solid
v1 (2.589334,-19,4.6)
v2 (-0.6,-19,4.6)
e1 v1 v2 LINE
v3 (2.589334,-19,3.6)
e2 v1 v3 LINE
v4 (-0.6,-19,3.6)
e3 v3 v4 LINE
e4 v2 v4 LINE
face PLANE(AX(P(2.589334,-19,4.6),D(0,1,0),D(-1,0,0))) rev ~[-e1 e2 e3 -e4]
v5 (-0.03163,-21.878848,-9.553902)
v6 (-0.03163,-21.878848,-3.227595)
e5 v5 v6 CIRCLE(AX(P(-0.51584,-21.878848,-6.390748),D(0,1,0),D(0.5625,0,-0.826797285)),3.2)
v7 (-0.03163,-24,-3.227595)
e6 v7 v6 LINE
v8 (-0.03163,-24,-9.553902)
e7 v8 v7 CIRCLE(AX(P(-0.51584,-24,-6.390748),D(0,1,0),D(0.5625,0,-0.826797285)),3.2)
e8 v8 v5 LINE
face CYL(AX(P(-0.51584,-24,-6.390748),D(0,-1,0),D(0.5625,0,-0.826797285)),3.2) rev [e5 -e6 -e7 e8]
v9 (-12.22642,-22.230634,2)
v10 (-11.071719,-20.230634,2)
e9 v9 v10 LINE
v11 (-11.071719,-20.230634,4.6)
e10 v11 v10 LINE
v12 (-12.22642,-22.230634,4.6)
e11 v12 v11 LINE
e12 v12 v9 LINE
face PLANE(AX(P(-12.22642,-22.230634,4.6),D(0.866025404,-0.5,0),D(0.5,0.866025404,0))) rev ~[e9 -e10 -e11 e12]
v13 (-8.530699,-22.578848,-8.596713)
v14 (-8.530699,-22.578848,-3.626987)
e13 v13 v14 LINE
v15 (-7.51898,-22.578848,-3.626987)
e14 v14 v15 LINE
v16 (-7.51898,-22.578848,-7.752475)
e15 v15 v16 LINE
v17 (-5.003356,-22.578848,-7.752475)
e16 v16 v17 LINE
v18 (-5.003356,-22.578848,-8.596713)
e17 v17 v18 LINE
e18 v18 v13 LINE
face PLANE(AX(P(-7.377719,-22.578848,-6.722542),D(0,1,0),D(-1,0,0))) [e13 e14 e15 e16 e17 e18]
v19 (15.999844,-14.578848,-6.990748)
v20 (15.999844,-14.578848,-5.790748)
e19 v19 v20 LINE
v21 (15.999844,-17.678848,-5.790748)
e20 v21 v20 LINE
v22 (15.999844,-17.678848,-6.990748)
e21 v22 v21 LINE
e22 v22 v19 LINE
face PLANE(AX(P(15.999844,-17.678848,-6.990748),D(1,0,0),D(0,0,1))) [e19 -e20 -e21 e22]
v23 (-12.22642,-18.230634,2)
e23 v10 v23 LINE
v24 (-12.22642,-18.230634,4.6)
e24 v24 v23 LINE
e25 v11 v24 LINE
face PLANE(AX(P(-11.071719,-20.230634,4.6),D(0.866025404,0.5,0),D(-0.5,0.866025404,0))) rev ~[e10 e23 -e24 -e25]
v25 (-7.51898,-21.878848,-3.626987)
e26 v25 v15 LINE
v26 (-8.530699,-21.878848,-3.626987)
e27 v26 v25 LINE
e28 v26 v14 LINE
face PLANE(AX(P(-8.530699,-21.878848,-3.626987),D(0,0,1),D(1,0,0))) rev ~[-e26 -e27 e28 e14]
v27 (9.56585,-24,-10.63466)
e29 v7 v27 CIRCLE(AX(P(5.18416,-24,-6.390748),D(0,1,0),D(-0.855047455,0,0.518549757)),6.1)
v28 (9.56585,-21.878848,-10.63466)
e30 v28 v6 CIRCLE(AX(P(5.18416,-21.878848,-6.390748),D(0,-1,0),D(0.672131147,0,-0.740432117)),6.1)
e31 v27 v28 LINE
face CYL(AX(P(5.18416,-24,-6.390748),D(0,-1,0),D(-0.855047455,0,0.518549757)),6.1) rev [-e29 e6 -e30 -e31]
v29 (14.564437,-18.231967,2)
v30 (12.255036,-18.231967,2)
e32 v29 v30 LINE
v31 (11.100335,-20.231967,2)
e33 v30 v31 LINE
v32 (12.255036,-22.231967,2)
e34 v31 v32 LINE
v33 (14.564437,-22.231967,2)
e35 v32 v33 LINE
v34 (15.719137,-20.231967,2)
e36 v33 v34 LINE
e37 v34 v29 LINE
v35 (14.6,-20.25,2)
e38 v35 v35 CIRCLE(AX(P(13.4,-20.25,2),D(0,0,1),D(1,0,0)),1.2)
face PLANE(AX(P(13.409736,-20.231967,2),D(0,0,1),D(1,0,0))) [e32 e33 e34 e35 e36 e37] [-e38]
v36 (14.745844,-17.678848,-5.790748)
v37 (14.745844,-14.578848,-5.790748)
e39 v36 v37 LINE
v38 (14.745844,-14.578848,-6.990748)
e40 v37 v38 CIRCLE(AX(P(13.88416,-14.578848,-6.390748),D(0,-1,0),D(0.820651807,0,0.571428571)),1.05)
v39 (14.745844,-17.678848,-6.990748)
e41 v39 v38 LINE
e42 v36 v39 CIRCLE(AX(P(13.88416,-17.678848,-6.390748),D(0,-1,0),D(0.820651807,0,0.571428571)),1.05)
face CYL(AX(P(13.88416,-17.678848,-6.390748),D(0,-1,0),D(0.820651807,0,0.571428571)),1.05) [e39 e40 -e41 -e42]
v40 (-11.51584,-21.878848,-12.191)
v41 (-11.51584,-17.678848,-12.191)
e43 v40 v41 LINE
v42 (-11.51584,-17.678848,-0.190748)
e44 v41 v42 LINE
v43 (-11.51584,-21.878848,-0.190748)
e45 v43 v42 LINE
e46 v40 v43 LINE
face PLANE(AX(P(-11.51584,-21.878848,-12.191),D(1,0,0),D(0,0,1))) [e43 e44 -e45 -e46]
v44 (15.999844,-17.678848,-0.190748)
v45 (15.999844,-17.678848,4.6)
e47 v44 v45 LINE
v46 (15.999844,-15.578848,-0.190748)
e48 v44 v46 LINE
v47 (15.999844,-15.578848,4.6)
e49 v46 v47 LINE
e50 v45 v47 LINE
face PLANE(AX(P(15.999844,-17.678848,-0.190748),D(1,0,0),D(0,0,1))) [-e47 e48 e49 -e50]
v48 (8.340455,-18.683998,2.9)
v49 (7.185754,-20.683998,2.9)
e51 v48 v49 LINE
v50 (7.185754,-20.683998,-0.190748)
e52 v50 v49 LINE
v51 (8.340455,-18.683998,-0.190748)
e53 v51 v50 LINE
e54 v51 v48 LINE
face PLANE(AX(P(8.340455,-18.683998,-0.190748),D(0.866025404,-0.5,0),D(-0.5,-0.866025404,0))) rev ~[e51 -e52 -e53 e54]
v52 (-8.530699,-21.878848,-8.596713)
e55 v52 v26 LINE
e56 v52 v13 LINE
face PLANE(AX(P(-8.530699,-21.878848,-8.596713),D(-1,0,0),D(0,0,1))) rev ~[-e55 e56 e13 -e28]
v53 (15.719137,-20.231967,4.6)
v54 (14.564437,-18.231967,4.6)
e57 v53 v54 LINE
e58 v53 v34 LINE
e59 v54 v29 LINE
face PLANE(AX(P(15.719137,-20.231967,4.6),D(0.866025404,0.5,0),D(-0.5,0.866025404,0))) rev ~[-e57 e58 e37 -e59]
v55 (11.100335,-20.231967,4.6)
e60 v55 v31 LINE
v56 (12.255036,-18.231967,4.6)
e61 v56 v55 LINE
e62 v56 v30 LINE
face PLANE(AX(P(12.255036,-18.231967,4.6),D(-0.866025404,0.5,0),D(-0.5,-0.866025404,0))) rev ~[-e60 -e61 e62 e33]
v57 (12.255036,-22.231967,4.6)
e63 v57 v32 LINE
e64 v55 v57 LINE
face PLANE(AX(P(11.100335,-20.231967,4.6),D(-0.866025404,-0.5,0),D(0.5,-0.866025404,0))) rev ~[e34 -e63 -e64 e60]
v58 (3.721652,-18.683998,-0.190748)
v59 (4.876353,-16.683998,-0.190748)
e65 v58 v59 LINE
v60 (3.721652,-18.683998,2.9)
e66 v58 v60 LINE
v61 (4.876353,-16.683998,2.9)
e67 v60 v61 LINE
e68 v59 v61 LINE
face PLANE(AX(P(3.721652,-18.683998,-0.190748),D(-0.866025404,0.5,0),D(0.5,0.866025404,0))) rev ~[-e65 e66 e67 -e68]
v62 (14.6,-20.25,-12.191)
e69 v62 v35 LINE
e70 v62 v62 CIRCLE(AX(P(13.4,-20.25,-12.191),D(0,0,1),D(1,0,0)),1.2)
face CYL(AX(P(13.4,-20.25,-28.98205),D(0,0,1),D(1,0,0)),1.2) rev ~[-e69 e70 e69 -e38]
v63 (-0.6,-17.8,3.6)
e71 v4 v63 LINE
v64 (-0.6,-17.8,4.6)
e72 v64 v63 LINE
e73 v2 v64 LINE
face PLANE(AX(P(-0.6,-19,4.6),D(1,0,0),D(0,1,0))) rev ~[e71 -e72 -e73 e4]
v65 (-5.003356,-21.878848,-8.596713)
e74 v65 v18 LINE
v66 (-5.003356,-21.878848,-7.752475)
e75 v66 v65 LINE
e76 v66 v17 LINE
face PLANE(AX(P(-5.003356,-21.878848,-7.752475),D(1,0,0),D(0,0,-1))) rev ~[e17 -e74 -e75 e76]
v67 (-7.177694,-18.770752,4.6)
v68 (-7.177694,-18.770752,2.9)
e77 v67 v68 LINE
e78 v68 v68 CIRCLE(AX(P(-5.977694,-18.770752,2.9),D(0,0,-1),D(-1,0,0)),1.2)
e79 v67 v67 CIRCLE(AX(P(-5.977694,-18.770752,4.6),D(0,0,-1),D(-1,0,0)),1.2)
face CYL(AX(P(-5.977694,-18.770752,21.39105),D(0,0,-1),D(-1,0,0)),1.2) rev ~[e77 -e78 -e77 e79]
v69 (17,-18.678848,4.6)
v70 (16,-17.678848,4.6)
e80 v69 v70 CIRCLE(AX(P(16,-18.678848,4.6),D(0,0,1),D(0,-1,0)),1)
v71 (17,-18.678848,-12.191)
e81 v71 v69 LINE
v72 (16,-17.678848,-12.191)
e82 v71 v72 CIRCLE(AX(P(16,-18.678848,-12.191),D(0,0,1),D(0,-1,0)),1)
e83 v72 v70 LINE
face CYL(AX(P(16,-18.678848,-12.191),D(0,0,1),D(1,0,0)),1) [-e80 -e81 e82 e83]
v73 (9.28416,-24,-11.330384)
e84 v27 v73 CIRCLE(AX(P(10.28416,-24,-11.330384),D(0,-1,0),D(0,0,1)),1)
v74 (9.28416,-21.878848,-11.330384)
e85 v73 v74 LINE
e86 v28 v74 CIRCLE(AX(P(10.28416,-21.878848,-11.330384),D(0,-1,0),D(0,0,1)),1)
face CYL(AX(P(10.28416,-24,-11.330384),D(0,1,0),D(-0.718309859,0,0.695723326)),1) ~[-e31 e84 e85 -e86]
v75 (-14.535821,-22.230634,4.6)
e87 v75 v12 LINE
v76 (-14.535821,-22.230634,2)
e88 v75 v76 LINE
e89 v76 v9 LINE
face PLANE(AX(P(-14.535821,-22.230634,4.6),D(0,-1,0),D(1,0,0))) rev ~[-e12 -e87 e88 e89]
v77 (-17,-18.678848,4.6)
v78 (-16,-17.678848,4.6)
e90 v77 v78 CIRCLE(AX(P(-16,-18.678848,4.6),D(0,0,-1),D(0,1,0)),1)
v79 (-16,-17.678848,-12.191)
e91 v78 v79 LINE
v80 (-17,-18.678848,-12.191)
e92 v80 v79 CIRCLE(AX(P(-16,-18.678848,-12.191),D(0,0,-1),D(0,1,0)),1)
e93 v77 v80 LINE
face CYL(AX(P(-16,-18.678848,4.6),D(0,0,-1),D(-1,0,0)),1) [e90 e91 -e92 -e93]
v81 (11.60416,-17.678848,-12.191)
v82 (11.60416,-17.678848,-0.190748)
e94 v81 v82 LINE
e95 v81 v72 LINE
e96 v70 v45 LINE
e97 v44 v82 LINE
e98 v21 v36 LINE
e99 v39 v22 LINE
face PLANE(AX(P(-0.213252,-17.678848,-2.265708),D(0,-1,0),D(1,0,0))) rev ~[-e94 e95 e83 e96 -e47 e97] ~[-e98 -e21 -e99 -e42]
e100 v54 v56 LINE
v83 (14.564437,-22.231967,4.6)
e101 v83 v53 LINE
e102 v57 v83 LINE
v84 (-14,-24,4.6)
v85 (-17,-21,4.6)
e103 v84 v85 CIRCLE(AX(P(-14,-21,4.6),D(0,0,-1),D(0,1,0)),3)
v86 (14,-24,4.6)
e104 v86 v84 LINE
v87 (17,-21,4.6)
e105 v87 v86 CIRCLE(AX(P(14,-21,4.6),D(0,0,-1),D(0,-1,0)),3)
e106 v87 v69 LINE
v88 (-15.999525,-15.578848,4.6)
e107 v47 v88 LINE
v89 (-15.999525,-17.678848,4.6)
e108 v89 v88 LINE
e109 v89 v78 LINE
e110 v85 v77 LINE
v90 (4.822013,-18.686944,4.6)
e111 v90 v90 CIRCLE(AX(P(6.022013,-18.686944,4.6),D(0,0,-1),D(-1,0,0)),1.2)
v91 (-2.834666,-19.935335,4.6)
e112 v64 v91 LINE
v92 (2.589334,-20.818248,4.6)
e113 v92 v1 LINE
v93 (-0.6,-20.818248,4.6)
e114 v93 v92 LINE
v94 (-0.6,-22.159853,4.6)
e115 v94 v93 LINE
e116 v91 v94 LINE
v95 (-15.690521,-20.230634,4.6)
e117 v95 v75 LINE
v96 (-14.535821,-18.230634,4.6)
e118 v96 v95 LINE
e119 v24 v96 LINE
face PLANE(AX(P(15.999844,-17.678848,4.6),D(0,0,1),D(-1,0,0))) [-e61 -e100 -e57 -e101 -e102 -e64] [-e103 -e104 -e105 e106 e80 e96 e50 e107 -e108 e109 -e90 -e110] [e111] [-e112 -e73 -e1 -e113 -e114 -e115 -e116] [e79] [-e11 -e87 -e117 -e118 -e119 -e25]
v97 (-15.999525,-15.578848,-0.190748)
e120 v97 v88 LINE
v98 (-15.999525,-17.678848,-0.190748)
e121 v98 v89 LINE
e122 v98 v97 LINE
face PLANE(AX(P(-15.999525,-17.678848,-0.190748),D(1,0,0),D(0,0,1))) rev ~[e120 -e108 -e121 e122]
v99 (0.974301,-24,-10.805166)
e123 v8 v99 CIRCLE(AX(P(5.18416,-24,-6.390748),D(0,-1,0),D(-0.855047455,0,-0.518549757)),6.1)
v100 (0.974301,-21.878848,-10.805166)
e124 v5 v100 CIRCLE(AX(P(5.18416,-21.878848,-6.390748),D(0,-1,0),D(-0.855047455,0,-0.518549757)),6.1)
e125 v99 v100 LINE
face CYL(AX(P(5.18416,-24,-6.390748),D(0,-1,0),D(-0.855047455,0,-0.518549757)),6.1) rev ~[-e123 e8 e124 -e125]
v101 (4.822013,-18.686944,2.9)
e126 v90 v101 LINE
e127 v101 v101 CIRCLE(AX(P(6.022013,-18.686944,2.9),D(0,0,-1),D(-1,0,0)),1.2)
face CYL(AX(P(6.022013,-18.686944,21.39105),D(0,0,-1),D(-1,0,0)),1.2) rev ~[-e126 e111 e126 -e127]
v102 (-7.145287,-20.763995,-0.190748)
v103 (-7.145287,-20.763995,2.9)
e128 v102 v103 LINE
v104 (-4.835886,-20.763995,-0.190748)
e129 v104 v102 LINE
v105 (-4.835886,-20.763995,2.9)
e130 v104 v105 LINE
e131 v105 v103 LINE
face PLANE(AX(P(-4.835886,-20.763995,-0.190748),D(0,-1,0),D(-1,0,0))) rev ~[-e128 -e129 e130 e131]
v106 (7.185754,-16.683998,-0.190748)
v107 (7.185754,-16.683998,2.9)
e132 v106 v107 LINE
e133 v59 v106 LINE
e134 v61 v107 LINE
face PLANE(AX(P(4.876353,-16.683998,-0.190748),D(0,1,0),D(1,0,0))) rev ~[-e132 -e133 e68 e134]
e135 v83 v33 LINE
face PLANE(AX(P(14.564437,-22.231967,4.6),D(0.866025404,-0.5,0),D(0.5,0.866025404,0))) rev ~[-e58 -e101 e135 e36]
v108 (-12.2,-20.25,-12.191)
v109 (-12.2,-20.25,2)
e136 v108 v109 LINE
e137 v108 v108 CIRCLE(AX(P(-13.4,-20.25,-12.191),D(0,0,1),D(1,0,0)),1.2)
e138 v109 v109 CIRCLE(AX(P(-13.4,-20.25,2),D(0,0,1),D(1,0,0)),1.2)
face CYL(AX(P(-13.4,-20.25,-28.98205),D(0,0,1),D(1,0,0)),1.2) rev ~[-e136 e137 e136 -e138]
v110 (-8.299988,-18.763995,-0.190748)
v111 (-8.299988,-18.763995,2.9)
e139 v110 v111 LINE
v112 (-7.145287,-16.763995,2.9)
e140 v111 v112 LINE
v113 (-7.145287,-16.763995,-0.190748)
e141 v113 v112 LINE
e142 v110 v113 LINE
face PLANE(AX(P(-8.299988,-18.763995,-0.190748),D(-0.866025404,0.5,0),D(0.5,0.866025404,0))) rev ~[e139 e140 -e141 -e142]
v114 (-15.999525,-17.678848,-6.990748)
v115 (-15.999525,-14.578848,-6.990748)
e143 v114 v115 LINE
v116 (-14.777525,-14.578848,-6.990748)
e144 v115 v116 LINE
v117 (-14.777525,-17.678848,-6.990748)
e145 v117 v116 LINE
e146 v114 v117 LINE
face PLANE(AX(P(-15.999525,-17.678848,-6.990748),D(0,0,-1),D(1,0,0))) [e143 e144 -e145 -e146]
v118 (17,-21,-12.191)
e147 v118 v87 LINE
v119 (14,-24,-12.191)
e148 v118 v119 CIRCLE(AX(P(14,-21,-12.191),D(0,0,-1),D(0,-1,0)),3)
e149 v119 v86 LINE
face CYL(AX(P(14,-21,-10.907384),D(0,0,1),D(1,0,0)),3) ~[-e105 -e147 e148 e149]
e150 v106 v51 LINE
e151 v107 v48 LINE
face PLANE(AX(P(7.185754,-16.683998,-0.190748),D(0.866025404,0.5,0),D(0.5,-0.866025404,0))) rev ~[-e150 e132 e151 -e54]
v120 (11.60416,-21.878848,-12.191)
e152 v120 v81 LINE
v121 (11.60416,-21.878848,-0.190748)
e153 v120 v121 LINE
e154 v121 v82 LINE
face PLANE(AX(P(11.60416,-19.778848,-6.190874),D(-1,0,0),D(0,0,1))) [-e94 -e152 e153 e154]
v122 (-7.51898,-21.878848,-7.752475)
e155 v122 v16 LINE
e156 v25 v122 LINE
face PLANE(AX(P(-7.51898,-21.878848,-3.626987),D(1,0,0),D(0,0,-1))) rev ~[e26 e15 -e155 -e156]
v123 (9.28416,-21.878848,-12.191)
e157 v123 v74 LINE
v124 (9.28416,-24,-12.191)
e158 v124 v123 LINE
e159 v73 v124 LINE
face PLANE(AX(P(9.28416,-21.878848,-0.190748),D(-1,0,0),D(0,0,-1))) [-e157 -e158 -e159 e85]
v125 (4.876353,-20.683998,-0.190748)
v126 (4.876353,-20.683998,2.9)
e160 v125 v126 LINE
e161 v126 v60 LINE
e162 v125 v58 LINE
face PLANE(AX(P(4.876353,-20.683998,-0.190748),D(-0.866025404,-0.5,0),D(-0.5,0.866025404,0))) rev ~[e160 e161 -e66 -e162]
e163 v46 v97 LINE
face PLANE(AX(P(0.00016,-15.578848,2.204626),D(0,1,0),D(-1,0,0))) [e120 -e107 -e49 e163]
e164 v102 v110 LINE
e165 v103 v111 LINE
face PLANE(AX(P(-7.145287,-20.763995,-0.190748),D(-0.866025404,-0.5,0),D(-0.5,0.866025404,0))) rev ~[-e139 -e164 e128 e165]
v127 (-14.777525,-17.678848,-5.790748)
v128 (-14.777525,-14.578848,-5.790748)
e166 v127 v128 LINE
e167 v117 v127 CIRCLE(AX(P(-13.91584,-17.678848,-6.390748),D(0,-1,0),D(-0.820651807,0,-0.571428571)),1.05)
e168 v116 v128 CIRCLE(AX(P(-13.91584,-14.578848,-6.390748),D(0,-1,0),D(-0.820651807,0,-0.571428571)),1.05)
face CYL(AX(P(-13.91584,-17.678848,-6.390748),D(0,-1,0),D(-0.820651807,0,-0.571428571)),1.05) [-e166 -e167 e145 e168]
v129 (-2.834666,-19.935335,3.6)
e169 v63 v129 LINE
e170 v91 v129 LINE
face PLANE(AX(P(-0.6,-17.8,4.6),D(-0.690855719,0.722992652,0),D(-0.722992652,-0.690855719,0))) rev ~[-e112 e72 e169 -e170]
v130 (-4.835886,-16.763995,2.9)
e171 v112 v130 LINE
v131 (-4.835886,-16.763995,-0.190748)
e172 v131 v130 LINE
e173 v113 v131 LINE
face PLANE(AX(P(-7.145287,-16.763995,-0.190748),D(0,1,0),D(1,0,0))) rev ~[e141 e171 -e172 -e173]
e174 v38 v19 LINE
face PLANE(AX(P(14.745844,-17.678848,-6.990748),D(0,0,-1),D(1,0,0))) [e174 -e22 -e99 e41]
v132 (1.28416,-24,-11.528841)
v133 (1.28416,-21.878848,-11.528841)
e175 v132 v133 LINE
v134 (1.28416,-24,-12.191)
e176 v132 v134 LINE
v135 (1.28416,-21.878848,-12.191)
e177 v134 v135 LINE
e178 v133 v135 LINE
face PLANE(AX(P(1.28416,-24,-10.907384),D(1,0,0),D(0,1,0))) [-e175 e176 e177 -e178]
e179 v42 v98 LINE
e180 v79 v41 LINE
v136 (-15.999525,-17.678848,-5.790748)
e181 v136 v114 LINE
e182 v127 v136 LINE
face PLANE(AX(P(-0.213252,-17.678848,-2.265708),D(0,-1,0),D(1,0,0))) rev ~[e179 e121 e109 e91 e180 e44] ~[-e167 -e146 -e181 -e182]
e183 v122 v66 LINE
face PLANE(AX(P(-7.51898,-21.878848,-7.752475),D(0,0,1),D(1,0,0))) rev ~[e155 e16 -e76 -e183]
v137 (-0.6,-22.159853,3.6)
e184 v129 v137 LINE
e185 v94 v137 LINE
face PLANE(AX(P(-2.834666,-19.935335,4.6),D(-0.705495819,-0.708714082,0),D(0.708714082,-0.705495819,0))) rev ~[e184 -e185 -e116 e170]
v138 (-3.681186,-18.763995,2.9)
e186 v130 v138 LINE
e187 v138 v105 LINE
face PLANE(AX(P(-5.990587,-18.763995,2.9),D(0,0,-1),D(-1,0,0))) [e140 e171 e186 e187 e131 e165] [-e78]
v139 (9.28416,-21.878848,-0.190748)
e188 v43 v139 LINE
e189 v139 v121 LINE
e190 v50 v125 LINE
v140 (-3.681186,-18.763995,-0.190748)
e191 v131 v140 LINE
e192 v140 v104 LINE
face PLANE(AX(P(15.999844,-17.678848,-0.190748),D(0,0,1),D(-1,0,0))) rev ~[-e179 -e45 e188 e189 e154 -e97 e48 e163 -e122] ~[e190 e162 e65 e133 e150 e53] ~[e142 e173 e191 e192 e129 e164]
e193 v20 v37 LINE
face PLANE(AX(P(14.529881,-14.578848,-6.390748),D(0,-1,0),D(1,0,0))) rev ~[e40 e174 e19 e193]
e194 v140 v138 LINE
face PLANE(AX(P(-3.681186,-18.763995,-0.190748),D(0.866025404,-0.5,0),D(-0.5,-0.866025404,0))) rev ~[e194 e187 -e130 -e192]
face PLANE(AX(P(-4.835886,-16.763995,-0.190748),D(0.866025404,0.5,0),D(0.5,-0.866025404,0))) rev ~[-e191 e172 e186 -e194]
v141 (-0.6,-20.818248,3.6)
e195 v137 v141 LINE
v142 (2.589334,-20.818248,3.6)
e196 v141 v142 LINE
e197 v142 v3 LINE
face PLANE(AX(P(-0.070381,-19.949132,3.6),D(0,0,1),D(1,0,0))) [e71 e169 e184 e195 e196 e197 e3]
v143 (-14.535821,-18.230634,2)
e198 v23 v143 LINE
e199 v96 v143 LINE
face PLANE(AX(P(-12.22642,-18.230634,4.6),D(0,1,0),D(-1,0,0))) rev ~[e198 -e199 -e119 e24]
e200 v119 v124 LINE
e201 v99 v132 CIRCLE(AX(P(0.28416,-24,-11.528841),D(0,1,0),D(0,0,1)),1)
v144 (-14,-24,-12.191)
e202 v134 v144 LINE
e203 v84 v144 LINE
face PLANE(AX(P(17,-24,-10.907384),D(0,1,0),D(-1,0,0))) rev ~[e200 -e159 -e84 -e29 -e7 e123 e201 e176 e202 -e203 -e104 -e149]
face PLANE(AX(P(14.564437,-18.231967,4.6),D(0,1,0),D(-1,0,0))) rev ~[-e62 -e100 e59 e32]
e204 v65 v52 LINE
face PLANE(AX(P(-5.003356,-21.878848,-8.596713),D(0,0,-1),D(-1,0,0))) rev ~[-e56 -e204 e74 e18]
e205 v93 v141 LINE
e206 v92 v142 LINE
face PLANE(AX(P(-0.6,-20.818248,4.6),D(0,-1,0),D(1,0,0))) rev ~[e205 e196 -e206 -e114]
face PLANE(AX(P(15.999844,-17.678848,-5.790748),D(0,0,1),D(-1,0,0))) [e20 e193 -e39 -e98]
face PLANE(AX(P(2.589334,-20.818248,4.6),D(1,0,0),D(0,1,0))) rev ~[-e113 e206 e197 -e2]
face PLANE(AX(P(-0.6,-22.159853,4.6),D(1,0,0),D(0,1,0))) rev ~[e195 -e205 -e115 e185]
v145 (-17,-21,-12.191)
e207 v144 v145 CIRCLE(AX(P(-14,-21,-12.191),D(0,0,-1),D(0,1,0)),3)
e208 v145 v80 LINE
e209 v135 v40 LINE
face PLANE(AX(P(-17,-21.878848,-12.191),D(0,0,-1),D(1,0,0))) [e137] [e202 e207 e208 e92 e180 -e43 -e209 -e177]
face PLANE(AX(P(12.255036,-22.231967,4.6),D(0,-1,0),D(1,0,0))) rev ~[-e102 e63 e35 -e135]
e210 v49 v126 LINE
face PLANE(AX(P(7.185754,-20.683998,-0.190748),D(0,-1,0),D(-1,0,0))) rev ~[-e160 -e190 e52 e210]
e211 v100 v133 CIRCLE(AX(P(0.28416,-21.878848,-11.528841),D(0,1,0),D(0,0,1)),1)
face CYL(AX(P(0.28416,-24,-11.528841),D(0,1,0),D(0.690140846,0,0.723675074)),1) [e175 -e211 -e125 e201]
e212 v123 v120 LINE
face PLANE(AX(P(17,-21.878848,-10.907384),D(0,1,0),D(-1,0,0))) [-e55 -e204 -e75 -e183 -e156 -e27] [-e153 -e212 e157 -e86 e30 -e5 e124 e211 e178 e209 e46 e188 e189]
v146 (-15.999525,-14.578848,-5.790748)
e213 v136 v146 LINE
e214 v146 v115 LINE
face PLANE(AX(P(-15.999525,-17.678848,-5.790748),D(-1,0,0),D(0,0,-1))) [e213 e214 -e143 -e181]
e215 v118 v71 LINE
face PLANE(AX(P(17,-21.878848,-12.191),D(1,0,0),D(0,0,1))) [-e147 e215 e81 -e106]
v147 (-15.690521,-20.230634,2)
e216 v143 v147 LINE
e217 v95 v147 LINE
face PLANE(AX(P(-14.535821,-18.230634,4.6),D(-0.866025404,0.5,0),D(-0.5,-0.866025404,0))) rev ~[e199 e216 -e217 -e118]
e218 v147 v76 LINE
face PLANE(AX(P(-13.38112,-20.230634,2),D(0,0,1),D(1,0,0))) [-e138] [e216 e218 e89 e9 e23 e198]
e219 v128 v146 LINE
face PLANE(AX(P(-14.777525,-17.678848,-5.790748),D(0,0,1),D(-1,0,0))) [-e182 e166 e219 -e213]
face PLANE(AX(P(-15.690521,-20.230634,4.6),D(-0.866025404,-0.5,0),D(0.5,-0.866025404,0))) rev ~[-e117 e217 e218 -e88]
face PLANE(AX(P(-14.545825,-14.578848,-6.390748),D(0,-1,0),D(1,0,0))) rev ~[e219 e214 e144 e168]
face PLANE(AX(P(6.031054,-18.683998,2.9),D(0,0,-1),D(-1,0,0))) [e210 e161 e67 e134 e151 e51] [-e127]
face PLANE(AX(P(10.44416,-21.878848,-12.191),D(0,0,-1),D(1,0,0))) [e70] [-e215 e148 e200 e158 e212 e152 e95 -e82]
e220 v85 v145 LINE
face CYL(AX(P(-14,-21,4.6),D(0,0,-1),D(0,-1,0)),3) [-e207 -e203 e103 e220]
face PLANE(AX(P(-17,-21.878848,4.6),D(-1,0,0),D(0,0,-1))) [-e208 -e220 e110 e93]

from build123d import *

# Parameters (mm, degrees)
EXTRUDE_1_DEPTH     = 2.121152063
SKETCH_2_W          = 18.284159781
SKETCH_2_H          = 2.121152063
EXTRUDE_2_DEPTH     = 1.283615947
SKETCH_3_W          = 7.715840219
SKETCH_3_H          = 2.121152063
EXTRUDE_3_DEPTH     = 1.283615947
EXTRUDE_4_DEPTH     = 4.2
SKETCH_5_W          = 31.999368794
SKETCH_5_H          = 4.790748137
EXTRUDE_5_DEPTH     = 2.1
SKETCH_6_W          = 12.000251863
SKETCH_6_H          = 4.2
CUT_EXTRUDE_1_DEPTH = 2.32
CUT_EXTRUDE_2_DEPTH = 23.550749058
EXTRUDE_6_DEPTH     = 3.1
EXTRUDE_7_DEPTH     = 3.1
CUT_EXTRUDE_3_DEPTH = 1
CUT_EXTRUDE_4_DEPTH = 2.6
CUT_EXTRUDE_5_DEPTH = 2.6
CUT_EXTRUDE_6_DEPTH = 0.7
CUT_EXTRUDE_7_DEPTH = 3.090748137
CUT_EXTRUDE_8_DEPTH = 3.090748137
HOLE_WIZARD_1_D     = 2.4
HOLE_WIZARD_1_DEPTH = 16.79105
HOLE_WIZARD_2_D     = 2.4
HOLE_WIZARD_2_DEPTH = 16.79105
HOLE_WIZARD_3_D     = 2.4
HOLE_WIZARD_3_DEPTH = 16.79105
HOLE_WIZARD_4_D     = 2.4
HOLE_WIZARD_4_DEPTH = 16.79105
FILLET_1_R          = 1
FILLET_2_R          = 1
FILLET_3_R          = 1
FILLET_4_R          = 1
FILLET_5_R          = 3
FILLET_6_R          = 3


with BuildPart() as part:
    # ｽｹｯﾁ1 → ﾎﾞｽ - 押し出し1 (new body)
    with BuildSketch(Plane.XZ.offset(24)):
        with BuildLine():
            Line((-17, 4.6), (-17, -10.907384053))
            Line((-17, -10.907384053), (1.284159781, -10.907384053))
            Line((1.284159781, -10.907384053), (1.284159781, -9.036499448))
            ThreePointArc((1.284159781, -9.036499448), (-3.636777298, -7.097679354), (-0.031629692, -3.227594621))
            ThreePointArc((-0.031629692, -3.227594621), (9.064370854, -1.683948584), (9.284159781, -10.907384053))
            Line((9.284159781, -10.907384053), (17, -10.907384053))
            Line((17, -10.907384053), (17, 4.6))
            Line((17, 4.6), (-17, 4.6))
        make_face()
    extrude(amount=-EXTRUDE_1_DEPTH)

    # ｽｹｯﾁ2 → ﾎﾞｽ - 押し出し2 (add)
    with BuildSketch(Plane(origin=(0, 0, -10.907384053), x_dir=(-1, 0, 0), z_dir=(0, 0, -1))):
        with Locations((7.85792011, -22.939423969)):
            Rectangle(SKETCH_2_W, SKETCH_2_H)
    extrude(amount=EXTRUDE_2_DEPTH)

    # ｽｹｯﾁ3 → ﾎﾞｽ - 押し出し3 (add)
    with BuildSketch(Plane(origin=(0, 0, -10.907384053), x_dir=(-1, 0, 0), z_dir=(0, 0, -1))):
        with Locations((-13.14207989, -22.939423969)):
            Rectangle(SKETCH_3_W, SKETCH_3_H)
    extrude(amount=EXTRUDE_3_DEPTH)

    # ｽｹｯﾁ4 → ﾎﾞｽ - 押し出し4 (add)
    with BuildSketch(Plane(origin=(0, -21.878847937, 0), x_dir=(-1, 0, 0), z_dir=(0, 1, 0))):
        with BuildLine():
            Line((17, 4.6), (17, -12.191))
            Line((17, -12.191), (11.515840219, -12.191))
            Line((11.515840219, -12.191), (11.515840219, -0.190748137))
            Line((11.515840219, -0.190748137), (-9.284159781, -0.190748137))
            Line((-9.284159781, -0.190748137), (-9.284159781, -12.191))
            add(Edge.make_bspline(
                [(-9.284159781, -12.191), (-10.057493115, -12.191), (-10.830826448, -12.191), (-11.604159781, -12.191)],
                knots=[0, 0, 0, 0, 1, 1, 1, 1], degree=3))
            Line((-11.604159781, -12.191), (-17, -12.191))
            Line((-17, -12.191), (-17, 4.6))
            Line((-17, 4.6), (17, 4.6))
        make_face()
    extrude(amount=EXTRUDE_4_DEPTH)

    # ｽｹｯﾁ5 → ﾎﾞｽ - 押し出し5 (add)
    with BuildSketch(Plane(origin=(0, -17.678847937, 0), x_dir=(-1, 0, 0), z_dir=(0, 1, 0))):
        with Locations((-0.000159781, 2.204625932)):
            Rectangle(SKETCH_5_W, SKETCH_5_H)
    extrude(amount=EXTRUDE_5_DEPTH)

    # ｽｹｯﾁ6 → ｶｯﾄ - 押し出し1 (cut)
    with BuildSketch(Plane.ZY.offset(-9.284159781)):
        with Locations((-6.190874069, -19.778847937)):
            Rectangle(SKETCH_6_W, SKETCH_6_H)
    extrude(amount=-CUT_EXTRUDE_1_DEPTH, mode=Mode.SUBTRACT)

    # ｽｹｯﾁ7 → ｶｯﾄ - 押し出し2 (cut, through all)
    with BuildSketch(Plane.XZ.offset(24)):
        with BuildLine():
            Line((1.284159781, -11.081163897), (1.284159781, -9.036499448))
            ThreePointArc((1.284159781, -9.036499448), (0.655198078, -9.368779249), (-0.031629692, -9.553901653))
            ThreePointArc((-0.031629692, -9.553901653), (0.562738255, -10.37226331), (1.284159781, -11.081163897))
        make_face()
    extrude(amount=-CUT_EXTRUDE_2_DEPTH, mode=Mode.SUBTRACT)

    # ｽｹｯﾁ8 → ﾎﾞｽ - 押し出し6 (add)
    with BuildSketch(Plane(origin=(0, -17.678847937, 0), x_dir=(-1, 0, 0), z_dir=(0, 1, 0))):
        with BuildLine():
            Line((15.999524616, -6.990748137), (14.777524616, -6.990748137))
            ThreePointArc((14.777524616, -6.990748137), (12.865840219, -6.390748137), (14.777524616, -5.790748137))
            Line((14.777524616, -5.790748137), (15.999524616, -5.790748137))
            Line((15.999524616, -5.790748137), (15.999524616, -6.990748137))
        make_face()
    extrude(amount=EXTRUDE_6_DEPTH)

    # ｽｹｯﾁ9 → ﾎﾞｽ - 押し出し7 (add)
    with BuildSketch(Plane(origin=(0, -17.678847937, 0), x_dir=(-1, 0, 0), z_dir=(0, 1, 0))):
        with BuildLine():
            Line((-15.999844178, -5.790748137), (-14.745844178, -5.790748137))
            ThreePointArc((-14.745844178, -5.790748137), (-12.834159781, -6.390748137), (-14.745844178, -6.990748137))
            Line((-14.745844178, -6.990748137), (-15.999844178, -6.990748137))
            Line((-15.999844178, -6.990748137), (-15.999844178, -5.790748137))
        make_face()
    extrude(amount=EXTRUDE_7_DEPTH)

    # ｽｹｯﾁ10 → ｶｯﾄ - 押し出し3 (cut)
    with BuildSketch(Plane.XY.offset(4.6)):
        Polygon((-0.599999987, -17.799999602), (-2.834665696, -19.9353347), (-0.599999987, -22.159852817), (-0.599999987, -20.818248187), (2.589334329, -20.818248187), (2.589334329, -18.999999575), (-0.599999987, -18.999999575), align=None)
    extrude(amount=-CUT_EXTRUDE_3_DEPTH, mode=Mode.SUBTRACT)

    # ｽｹｯﾁ11 → ｶｯﾄ - 押し出し4 (cut)
    with BuildSketch(Plane.XY.offset(4.6)):
        Polygon((-14.535820787, -22.230633649), (-12.22641971, -22.230633649), (-11.071719172, -20.230633649), (-12.22641971, -18.230633649), (-14.535820787, -18.230633649), (-15.690521325, -20.230633649), align=None)
    extrude(amount=-CUT_EXTRUDE_4_DEPTH, mode=Mode.SUBTRACT)

    # ｽｹｯﾁ12 → ｶｯﾄ - 押し出し5 (cut)
    with BuildSketch(Plane.XY.offset(4.6)):
        Polygon((12.255035689, -22.231967066), (14.564436765, -22.231967066), (15.719137304, -20.231967066), (14.564436765, -18.231967066), (12.255035689, -18.231967066), (11.10033515, -20.231967066), align=None)
    extrude(amount=-CUT_EXTRUDE_5_DEPTH, mode=Mode.SUBTRACT)

    # ｽｹｯﾁ13 → ｶｯﾄ - 押し出し6 (cut)
    with BuildSketch(Plane(origin=(0, -21.878847937, 0), x_dir=(-1, 0, 0), z_dir=(0, 1, 0))):
        Polygon((7.518980495, -7.752475082), (5.003355584, -7.752475082), (5.003355584, -8.596713483), (8.530699304, -8.596713483), (8.530699304, -3.62698698), (7.518980495, -3.62698698), align=None)
    extrude(amount=-CUT_EXTRUDE_6_DEPTH, mode=Mode.SUBTRACT)

    # ｽｹｯﾁ14 → ｶｯﾄ - 押し出し7 (cut)
    with BuildSketch(Plane(origin=(0, 0, -0.190748137), x_dir=(-1, 0, 0), z_dir=(0, 0, -1))):
        Polygon((-7.185754105, -20.683997984), (-4.876353029, -20.683997984), (-3.72165249, -18.683997984), (-4.876353029, -16.683997984), (-7.185754105, -16.683997984), (-8.340454644, -18.683997984), align=None)
    extrude(amount=-CUT_EXTRUDE_7_DEPTH, mode=Mode.SUBTRACT)

    # ｽｹｯﾁ15 → ｶｯﾄ - 押し出し8 (cut)
    with BuildSketch(Plane(origin=(0, 0, -0.190748137), x_dir=(-1, 0, 0), z_dir=(0, 0, -1))):
        Polygon((4.835886318, -20.763995351), (7.145287395, -20.763995351), (8.299987933, -18.763995351), (7.145287395, -16.763995351), (4.835886318, -16.763995351), (3.68118578, -18.763995351), align=None)
    extrude(amount=-CUT_EXTRUDE_8_DEPTH, mode=Mode.SUBTRACT)

    # 穴1
    with Locations(Plane.XY.offset(4.6)):
        with Locations((-5.97769389, -18.770751676)):
            Hole(HOLE_WIZARD_1_D / 2, depth=HOLE_WIZARD_1_DEPTH)

    # 穴2
    with Locations(Plane.XY.offset(4.6)):
        with Locations((6.022013453, -18.686944197)):
            Hole(HOLE_WIZARD_2_D / 2, depth=HOLE_WIZARD_2_DEPTH)

    # 穴3
    with Locations(Plane(origin=(0, 0, -12.191), x_dir=(-1, 0, 0), z_dir=(0, 0, -1))):
        with Locations((-13.4, -20.25)):
            Hole(HOLE_WIZARD_3_D / 2, depth=HOLE_WIZARD_3_DEPTH)

    # 穴4
    with Locations(Plane(origin=(0, 0, -12.191), x_dir=(-1, 0, 0), z_dir=(0, 0, -1))):
        with Locations((13.4, -20.25)):
            Hole(HOLE_WIZARD_4_D / 2, depth=HOLE_WIZARD_4_DEPTH)

    # ﾌｨﾚｯﾄ1
    fillet_1_edges = [part.edges().sort_by_distance(p)[0] for p in [
        (9.284159781, -22.939423968, -10.907384053),
    ]]
    fillet(fillet_1_edges, radius=FILLET_1_R)

    # ﾌｨﾚｯﾄ2
    fillet_2_edges = [part.edges().sort_by_distance(p)[0] for p in [
        (1.284159781, -22.939423968, -11.081163897),
    ]]
    fillet(fillet_2_edges, radius=FILLET_2_R)

    # ﾌｨﾚｯﾄ3
    fillet_3_edges = [part.edges().sort_by_distance(p)[0] for p in [
        (-17, -17.678847937, -3.7955),
    ]]
    fillet(fillet_3_edges, radius=FILLET_3_R)

    # ﾌｨﾚｯﾄ4
    fillet_4_edges = [part.edges().sort_by_distance(p)[0] for p in [
        (17, -17.678847937, -3.7955),
    ]]
    fillet(fillet_4_edges, radius=FILLET_4_R)

    # ﾌｨﾚｯﾄ5
    fillet_5_edges = [part.edges().sort_by_distance(p)[0] for p in [
        (-17, -24, -3.7955),
    ]]
    fillet(fillet_5_edges, radius=FILLET_5_R)

    # ﾌｨﾚｯﾄ6
    fillet_6_edges = [part.edges().sort_by_distance(p)[0] for p in [
        (17, -24, -3.7955),
    ]]
    fillet(fillet_6_edges, radius=FILLET_6_R)


solid = part.part
